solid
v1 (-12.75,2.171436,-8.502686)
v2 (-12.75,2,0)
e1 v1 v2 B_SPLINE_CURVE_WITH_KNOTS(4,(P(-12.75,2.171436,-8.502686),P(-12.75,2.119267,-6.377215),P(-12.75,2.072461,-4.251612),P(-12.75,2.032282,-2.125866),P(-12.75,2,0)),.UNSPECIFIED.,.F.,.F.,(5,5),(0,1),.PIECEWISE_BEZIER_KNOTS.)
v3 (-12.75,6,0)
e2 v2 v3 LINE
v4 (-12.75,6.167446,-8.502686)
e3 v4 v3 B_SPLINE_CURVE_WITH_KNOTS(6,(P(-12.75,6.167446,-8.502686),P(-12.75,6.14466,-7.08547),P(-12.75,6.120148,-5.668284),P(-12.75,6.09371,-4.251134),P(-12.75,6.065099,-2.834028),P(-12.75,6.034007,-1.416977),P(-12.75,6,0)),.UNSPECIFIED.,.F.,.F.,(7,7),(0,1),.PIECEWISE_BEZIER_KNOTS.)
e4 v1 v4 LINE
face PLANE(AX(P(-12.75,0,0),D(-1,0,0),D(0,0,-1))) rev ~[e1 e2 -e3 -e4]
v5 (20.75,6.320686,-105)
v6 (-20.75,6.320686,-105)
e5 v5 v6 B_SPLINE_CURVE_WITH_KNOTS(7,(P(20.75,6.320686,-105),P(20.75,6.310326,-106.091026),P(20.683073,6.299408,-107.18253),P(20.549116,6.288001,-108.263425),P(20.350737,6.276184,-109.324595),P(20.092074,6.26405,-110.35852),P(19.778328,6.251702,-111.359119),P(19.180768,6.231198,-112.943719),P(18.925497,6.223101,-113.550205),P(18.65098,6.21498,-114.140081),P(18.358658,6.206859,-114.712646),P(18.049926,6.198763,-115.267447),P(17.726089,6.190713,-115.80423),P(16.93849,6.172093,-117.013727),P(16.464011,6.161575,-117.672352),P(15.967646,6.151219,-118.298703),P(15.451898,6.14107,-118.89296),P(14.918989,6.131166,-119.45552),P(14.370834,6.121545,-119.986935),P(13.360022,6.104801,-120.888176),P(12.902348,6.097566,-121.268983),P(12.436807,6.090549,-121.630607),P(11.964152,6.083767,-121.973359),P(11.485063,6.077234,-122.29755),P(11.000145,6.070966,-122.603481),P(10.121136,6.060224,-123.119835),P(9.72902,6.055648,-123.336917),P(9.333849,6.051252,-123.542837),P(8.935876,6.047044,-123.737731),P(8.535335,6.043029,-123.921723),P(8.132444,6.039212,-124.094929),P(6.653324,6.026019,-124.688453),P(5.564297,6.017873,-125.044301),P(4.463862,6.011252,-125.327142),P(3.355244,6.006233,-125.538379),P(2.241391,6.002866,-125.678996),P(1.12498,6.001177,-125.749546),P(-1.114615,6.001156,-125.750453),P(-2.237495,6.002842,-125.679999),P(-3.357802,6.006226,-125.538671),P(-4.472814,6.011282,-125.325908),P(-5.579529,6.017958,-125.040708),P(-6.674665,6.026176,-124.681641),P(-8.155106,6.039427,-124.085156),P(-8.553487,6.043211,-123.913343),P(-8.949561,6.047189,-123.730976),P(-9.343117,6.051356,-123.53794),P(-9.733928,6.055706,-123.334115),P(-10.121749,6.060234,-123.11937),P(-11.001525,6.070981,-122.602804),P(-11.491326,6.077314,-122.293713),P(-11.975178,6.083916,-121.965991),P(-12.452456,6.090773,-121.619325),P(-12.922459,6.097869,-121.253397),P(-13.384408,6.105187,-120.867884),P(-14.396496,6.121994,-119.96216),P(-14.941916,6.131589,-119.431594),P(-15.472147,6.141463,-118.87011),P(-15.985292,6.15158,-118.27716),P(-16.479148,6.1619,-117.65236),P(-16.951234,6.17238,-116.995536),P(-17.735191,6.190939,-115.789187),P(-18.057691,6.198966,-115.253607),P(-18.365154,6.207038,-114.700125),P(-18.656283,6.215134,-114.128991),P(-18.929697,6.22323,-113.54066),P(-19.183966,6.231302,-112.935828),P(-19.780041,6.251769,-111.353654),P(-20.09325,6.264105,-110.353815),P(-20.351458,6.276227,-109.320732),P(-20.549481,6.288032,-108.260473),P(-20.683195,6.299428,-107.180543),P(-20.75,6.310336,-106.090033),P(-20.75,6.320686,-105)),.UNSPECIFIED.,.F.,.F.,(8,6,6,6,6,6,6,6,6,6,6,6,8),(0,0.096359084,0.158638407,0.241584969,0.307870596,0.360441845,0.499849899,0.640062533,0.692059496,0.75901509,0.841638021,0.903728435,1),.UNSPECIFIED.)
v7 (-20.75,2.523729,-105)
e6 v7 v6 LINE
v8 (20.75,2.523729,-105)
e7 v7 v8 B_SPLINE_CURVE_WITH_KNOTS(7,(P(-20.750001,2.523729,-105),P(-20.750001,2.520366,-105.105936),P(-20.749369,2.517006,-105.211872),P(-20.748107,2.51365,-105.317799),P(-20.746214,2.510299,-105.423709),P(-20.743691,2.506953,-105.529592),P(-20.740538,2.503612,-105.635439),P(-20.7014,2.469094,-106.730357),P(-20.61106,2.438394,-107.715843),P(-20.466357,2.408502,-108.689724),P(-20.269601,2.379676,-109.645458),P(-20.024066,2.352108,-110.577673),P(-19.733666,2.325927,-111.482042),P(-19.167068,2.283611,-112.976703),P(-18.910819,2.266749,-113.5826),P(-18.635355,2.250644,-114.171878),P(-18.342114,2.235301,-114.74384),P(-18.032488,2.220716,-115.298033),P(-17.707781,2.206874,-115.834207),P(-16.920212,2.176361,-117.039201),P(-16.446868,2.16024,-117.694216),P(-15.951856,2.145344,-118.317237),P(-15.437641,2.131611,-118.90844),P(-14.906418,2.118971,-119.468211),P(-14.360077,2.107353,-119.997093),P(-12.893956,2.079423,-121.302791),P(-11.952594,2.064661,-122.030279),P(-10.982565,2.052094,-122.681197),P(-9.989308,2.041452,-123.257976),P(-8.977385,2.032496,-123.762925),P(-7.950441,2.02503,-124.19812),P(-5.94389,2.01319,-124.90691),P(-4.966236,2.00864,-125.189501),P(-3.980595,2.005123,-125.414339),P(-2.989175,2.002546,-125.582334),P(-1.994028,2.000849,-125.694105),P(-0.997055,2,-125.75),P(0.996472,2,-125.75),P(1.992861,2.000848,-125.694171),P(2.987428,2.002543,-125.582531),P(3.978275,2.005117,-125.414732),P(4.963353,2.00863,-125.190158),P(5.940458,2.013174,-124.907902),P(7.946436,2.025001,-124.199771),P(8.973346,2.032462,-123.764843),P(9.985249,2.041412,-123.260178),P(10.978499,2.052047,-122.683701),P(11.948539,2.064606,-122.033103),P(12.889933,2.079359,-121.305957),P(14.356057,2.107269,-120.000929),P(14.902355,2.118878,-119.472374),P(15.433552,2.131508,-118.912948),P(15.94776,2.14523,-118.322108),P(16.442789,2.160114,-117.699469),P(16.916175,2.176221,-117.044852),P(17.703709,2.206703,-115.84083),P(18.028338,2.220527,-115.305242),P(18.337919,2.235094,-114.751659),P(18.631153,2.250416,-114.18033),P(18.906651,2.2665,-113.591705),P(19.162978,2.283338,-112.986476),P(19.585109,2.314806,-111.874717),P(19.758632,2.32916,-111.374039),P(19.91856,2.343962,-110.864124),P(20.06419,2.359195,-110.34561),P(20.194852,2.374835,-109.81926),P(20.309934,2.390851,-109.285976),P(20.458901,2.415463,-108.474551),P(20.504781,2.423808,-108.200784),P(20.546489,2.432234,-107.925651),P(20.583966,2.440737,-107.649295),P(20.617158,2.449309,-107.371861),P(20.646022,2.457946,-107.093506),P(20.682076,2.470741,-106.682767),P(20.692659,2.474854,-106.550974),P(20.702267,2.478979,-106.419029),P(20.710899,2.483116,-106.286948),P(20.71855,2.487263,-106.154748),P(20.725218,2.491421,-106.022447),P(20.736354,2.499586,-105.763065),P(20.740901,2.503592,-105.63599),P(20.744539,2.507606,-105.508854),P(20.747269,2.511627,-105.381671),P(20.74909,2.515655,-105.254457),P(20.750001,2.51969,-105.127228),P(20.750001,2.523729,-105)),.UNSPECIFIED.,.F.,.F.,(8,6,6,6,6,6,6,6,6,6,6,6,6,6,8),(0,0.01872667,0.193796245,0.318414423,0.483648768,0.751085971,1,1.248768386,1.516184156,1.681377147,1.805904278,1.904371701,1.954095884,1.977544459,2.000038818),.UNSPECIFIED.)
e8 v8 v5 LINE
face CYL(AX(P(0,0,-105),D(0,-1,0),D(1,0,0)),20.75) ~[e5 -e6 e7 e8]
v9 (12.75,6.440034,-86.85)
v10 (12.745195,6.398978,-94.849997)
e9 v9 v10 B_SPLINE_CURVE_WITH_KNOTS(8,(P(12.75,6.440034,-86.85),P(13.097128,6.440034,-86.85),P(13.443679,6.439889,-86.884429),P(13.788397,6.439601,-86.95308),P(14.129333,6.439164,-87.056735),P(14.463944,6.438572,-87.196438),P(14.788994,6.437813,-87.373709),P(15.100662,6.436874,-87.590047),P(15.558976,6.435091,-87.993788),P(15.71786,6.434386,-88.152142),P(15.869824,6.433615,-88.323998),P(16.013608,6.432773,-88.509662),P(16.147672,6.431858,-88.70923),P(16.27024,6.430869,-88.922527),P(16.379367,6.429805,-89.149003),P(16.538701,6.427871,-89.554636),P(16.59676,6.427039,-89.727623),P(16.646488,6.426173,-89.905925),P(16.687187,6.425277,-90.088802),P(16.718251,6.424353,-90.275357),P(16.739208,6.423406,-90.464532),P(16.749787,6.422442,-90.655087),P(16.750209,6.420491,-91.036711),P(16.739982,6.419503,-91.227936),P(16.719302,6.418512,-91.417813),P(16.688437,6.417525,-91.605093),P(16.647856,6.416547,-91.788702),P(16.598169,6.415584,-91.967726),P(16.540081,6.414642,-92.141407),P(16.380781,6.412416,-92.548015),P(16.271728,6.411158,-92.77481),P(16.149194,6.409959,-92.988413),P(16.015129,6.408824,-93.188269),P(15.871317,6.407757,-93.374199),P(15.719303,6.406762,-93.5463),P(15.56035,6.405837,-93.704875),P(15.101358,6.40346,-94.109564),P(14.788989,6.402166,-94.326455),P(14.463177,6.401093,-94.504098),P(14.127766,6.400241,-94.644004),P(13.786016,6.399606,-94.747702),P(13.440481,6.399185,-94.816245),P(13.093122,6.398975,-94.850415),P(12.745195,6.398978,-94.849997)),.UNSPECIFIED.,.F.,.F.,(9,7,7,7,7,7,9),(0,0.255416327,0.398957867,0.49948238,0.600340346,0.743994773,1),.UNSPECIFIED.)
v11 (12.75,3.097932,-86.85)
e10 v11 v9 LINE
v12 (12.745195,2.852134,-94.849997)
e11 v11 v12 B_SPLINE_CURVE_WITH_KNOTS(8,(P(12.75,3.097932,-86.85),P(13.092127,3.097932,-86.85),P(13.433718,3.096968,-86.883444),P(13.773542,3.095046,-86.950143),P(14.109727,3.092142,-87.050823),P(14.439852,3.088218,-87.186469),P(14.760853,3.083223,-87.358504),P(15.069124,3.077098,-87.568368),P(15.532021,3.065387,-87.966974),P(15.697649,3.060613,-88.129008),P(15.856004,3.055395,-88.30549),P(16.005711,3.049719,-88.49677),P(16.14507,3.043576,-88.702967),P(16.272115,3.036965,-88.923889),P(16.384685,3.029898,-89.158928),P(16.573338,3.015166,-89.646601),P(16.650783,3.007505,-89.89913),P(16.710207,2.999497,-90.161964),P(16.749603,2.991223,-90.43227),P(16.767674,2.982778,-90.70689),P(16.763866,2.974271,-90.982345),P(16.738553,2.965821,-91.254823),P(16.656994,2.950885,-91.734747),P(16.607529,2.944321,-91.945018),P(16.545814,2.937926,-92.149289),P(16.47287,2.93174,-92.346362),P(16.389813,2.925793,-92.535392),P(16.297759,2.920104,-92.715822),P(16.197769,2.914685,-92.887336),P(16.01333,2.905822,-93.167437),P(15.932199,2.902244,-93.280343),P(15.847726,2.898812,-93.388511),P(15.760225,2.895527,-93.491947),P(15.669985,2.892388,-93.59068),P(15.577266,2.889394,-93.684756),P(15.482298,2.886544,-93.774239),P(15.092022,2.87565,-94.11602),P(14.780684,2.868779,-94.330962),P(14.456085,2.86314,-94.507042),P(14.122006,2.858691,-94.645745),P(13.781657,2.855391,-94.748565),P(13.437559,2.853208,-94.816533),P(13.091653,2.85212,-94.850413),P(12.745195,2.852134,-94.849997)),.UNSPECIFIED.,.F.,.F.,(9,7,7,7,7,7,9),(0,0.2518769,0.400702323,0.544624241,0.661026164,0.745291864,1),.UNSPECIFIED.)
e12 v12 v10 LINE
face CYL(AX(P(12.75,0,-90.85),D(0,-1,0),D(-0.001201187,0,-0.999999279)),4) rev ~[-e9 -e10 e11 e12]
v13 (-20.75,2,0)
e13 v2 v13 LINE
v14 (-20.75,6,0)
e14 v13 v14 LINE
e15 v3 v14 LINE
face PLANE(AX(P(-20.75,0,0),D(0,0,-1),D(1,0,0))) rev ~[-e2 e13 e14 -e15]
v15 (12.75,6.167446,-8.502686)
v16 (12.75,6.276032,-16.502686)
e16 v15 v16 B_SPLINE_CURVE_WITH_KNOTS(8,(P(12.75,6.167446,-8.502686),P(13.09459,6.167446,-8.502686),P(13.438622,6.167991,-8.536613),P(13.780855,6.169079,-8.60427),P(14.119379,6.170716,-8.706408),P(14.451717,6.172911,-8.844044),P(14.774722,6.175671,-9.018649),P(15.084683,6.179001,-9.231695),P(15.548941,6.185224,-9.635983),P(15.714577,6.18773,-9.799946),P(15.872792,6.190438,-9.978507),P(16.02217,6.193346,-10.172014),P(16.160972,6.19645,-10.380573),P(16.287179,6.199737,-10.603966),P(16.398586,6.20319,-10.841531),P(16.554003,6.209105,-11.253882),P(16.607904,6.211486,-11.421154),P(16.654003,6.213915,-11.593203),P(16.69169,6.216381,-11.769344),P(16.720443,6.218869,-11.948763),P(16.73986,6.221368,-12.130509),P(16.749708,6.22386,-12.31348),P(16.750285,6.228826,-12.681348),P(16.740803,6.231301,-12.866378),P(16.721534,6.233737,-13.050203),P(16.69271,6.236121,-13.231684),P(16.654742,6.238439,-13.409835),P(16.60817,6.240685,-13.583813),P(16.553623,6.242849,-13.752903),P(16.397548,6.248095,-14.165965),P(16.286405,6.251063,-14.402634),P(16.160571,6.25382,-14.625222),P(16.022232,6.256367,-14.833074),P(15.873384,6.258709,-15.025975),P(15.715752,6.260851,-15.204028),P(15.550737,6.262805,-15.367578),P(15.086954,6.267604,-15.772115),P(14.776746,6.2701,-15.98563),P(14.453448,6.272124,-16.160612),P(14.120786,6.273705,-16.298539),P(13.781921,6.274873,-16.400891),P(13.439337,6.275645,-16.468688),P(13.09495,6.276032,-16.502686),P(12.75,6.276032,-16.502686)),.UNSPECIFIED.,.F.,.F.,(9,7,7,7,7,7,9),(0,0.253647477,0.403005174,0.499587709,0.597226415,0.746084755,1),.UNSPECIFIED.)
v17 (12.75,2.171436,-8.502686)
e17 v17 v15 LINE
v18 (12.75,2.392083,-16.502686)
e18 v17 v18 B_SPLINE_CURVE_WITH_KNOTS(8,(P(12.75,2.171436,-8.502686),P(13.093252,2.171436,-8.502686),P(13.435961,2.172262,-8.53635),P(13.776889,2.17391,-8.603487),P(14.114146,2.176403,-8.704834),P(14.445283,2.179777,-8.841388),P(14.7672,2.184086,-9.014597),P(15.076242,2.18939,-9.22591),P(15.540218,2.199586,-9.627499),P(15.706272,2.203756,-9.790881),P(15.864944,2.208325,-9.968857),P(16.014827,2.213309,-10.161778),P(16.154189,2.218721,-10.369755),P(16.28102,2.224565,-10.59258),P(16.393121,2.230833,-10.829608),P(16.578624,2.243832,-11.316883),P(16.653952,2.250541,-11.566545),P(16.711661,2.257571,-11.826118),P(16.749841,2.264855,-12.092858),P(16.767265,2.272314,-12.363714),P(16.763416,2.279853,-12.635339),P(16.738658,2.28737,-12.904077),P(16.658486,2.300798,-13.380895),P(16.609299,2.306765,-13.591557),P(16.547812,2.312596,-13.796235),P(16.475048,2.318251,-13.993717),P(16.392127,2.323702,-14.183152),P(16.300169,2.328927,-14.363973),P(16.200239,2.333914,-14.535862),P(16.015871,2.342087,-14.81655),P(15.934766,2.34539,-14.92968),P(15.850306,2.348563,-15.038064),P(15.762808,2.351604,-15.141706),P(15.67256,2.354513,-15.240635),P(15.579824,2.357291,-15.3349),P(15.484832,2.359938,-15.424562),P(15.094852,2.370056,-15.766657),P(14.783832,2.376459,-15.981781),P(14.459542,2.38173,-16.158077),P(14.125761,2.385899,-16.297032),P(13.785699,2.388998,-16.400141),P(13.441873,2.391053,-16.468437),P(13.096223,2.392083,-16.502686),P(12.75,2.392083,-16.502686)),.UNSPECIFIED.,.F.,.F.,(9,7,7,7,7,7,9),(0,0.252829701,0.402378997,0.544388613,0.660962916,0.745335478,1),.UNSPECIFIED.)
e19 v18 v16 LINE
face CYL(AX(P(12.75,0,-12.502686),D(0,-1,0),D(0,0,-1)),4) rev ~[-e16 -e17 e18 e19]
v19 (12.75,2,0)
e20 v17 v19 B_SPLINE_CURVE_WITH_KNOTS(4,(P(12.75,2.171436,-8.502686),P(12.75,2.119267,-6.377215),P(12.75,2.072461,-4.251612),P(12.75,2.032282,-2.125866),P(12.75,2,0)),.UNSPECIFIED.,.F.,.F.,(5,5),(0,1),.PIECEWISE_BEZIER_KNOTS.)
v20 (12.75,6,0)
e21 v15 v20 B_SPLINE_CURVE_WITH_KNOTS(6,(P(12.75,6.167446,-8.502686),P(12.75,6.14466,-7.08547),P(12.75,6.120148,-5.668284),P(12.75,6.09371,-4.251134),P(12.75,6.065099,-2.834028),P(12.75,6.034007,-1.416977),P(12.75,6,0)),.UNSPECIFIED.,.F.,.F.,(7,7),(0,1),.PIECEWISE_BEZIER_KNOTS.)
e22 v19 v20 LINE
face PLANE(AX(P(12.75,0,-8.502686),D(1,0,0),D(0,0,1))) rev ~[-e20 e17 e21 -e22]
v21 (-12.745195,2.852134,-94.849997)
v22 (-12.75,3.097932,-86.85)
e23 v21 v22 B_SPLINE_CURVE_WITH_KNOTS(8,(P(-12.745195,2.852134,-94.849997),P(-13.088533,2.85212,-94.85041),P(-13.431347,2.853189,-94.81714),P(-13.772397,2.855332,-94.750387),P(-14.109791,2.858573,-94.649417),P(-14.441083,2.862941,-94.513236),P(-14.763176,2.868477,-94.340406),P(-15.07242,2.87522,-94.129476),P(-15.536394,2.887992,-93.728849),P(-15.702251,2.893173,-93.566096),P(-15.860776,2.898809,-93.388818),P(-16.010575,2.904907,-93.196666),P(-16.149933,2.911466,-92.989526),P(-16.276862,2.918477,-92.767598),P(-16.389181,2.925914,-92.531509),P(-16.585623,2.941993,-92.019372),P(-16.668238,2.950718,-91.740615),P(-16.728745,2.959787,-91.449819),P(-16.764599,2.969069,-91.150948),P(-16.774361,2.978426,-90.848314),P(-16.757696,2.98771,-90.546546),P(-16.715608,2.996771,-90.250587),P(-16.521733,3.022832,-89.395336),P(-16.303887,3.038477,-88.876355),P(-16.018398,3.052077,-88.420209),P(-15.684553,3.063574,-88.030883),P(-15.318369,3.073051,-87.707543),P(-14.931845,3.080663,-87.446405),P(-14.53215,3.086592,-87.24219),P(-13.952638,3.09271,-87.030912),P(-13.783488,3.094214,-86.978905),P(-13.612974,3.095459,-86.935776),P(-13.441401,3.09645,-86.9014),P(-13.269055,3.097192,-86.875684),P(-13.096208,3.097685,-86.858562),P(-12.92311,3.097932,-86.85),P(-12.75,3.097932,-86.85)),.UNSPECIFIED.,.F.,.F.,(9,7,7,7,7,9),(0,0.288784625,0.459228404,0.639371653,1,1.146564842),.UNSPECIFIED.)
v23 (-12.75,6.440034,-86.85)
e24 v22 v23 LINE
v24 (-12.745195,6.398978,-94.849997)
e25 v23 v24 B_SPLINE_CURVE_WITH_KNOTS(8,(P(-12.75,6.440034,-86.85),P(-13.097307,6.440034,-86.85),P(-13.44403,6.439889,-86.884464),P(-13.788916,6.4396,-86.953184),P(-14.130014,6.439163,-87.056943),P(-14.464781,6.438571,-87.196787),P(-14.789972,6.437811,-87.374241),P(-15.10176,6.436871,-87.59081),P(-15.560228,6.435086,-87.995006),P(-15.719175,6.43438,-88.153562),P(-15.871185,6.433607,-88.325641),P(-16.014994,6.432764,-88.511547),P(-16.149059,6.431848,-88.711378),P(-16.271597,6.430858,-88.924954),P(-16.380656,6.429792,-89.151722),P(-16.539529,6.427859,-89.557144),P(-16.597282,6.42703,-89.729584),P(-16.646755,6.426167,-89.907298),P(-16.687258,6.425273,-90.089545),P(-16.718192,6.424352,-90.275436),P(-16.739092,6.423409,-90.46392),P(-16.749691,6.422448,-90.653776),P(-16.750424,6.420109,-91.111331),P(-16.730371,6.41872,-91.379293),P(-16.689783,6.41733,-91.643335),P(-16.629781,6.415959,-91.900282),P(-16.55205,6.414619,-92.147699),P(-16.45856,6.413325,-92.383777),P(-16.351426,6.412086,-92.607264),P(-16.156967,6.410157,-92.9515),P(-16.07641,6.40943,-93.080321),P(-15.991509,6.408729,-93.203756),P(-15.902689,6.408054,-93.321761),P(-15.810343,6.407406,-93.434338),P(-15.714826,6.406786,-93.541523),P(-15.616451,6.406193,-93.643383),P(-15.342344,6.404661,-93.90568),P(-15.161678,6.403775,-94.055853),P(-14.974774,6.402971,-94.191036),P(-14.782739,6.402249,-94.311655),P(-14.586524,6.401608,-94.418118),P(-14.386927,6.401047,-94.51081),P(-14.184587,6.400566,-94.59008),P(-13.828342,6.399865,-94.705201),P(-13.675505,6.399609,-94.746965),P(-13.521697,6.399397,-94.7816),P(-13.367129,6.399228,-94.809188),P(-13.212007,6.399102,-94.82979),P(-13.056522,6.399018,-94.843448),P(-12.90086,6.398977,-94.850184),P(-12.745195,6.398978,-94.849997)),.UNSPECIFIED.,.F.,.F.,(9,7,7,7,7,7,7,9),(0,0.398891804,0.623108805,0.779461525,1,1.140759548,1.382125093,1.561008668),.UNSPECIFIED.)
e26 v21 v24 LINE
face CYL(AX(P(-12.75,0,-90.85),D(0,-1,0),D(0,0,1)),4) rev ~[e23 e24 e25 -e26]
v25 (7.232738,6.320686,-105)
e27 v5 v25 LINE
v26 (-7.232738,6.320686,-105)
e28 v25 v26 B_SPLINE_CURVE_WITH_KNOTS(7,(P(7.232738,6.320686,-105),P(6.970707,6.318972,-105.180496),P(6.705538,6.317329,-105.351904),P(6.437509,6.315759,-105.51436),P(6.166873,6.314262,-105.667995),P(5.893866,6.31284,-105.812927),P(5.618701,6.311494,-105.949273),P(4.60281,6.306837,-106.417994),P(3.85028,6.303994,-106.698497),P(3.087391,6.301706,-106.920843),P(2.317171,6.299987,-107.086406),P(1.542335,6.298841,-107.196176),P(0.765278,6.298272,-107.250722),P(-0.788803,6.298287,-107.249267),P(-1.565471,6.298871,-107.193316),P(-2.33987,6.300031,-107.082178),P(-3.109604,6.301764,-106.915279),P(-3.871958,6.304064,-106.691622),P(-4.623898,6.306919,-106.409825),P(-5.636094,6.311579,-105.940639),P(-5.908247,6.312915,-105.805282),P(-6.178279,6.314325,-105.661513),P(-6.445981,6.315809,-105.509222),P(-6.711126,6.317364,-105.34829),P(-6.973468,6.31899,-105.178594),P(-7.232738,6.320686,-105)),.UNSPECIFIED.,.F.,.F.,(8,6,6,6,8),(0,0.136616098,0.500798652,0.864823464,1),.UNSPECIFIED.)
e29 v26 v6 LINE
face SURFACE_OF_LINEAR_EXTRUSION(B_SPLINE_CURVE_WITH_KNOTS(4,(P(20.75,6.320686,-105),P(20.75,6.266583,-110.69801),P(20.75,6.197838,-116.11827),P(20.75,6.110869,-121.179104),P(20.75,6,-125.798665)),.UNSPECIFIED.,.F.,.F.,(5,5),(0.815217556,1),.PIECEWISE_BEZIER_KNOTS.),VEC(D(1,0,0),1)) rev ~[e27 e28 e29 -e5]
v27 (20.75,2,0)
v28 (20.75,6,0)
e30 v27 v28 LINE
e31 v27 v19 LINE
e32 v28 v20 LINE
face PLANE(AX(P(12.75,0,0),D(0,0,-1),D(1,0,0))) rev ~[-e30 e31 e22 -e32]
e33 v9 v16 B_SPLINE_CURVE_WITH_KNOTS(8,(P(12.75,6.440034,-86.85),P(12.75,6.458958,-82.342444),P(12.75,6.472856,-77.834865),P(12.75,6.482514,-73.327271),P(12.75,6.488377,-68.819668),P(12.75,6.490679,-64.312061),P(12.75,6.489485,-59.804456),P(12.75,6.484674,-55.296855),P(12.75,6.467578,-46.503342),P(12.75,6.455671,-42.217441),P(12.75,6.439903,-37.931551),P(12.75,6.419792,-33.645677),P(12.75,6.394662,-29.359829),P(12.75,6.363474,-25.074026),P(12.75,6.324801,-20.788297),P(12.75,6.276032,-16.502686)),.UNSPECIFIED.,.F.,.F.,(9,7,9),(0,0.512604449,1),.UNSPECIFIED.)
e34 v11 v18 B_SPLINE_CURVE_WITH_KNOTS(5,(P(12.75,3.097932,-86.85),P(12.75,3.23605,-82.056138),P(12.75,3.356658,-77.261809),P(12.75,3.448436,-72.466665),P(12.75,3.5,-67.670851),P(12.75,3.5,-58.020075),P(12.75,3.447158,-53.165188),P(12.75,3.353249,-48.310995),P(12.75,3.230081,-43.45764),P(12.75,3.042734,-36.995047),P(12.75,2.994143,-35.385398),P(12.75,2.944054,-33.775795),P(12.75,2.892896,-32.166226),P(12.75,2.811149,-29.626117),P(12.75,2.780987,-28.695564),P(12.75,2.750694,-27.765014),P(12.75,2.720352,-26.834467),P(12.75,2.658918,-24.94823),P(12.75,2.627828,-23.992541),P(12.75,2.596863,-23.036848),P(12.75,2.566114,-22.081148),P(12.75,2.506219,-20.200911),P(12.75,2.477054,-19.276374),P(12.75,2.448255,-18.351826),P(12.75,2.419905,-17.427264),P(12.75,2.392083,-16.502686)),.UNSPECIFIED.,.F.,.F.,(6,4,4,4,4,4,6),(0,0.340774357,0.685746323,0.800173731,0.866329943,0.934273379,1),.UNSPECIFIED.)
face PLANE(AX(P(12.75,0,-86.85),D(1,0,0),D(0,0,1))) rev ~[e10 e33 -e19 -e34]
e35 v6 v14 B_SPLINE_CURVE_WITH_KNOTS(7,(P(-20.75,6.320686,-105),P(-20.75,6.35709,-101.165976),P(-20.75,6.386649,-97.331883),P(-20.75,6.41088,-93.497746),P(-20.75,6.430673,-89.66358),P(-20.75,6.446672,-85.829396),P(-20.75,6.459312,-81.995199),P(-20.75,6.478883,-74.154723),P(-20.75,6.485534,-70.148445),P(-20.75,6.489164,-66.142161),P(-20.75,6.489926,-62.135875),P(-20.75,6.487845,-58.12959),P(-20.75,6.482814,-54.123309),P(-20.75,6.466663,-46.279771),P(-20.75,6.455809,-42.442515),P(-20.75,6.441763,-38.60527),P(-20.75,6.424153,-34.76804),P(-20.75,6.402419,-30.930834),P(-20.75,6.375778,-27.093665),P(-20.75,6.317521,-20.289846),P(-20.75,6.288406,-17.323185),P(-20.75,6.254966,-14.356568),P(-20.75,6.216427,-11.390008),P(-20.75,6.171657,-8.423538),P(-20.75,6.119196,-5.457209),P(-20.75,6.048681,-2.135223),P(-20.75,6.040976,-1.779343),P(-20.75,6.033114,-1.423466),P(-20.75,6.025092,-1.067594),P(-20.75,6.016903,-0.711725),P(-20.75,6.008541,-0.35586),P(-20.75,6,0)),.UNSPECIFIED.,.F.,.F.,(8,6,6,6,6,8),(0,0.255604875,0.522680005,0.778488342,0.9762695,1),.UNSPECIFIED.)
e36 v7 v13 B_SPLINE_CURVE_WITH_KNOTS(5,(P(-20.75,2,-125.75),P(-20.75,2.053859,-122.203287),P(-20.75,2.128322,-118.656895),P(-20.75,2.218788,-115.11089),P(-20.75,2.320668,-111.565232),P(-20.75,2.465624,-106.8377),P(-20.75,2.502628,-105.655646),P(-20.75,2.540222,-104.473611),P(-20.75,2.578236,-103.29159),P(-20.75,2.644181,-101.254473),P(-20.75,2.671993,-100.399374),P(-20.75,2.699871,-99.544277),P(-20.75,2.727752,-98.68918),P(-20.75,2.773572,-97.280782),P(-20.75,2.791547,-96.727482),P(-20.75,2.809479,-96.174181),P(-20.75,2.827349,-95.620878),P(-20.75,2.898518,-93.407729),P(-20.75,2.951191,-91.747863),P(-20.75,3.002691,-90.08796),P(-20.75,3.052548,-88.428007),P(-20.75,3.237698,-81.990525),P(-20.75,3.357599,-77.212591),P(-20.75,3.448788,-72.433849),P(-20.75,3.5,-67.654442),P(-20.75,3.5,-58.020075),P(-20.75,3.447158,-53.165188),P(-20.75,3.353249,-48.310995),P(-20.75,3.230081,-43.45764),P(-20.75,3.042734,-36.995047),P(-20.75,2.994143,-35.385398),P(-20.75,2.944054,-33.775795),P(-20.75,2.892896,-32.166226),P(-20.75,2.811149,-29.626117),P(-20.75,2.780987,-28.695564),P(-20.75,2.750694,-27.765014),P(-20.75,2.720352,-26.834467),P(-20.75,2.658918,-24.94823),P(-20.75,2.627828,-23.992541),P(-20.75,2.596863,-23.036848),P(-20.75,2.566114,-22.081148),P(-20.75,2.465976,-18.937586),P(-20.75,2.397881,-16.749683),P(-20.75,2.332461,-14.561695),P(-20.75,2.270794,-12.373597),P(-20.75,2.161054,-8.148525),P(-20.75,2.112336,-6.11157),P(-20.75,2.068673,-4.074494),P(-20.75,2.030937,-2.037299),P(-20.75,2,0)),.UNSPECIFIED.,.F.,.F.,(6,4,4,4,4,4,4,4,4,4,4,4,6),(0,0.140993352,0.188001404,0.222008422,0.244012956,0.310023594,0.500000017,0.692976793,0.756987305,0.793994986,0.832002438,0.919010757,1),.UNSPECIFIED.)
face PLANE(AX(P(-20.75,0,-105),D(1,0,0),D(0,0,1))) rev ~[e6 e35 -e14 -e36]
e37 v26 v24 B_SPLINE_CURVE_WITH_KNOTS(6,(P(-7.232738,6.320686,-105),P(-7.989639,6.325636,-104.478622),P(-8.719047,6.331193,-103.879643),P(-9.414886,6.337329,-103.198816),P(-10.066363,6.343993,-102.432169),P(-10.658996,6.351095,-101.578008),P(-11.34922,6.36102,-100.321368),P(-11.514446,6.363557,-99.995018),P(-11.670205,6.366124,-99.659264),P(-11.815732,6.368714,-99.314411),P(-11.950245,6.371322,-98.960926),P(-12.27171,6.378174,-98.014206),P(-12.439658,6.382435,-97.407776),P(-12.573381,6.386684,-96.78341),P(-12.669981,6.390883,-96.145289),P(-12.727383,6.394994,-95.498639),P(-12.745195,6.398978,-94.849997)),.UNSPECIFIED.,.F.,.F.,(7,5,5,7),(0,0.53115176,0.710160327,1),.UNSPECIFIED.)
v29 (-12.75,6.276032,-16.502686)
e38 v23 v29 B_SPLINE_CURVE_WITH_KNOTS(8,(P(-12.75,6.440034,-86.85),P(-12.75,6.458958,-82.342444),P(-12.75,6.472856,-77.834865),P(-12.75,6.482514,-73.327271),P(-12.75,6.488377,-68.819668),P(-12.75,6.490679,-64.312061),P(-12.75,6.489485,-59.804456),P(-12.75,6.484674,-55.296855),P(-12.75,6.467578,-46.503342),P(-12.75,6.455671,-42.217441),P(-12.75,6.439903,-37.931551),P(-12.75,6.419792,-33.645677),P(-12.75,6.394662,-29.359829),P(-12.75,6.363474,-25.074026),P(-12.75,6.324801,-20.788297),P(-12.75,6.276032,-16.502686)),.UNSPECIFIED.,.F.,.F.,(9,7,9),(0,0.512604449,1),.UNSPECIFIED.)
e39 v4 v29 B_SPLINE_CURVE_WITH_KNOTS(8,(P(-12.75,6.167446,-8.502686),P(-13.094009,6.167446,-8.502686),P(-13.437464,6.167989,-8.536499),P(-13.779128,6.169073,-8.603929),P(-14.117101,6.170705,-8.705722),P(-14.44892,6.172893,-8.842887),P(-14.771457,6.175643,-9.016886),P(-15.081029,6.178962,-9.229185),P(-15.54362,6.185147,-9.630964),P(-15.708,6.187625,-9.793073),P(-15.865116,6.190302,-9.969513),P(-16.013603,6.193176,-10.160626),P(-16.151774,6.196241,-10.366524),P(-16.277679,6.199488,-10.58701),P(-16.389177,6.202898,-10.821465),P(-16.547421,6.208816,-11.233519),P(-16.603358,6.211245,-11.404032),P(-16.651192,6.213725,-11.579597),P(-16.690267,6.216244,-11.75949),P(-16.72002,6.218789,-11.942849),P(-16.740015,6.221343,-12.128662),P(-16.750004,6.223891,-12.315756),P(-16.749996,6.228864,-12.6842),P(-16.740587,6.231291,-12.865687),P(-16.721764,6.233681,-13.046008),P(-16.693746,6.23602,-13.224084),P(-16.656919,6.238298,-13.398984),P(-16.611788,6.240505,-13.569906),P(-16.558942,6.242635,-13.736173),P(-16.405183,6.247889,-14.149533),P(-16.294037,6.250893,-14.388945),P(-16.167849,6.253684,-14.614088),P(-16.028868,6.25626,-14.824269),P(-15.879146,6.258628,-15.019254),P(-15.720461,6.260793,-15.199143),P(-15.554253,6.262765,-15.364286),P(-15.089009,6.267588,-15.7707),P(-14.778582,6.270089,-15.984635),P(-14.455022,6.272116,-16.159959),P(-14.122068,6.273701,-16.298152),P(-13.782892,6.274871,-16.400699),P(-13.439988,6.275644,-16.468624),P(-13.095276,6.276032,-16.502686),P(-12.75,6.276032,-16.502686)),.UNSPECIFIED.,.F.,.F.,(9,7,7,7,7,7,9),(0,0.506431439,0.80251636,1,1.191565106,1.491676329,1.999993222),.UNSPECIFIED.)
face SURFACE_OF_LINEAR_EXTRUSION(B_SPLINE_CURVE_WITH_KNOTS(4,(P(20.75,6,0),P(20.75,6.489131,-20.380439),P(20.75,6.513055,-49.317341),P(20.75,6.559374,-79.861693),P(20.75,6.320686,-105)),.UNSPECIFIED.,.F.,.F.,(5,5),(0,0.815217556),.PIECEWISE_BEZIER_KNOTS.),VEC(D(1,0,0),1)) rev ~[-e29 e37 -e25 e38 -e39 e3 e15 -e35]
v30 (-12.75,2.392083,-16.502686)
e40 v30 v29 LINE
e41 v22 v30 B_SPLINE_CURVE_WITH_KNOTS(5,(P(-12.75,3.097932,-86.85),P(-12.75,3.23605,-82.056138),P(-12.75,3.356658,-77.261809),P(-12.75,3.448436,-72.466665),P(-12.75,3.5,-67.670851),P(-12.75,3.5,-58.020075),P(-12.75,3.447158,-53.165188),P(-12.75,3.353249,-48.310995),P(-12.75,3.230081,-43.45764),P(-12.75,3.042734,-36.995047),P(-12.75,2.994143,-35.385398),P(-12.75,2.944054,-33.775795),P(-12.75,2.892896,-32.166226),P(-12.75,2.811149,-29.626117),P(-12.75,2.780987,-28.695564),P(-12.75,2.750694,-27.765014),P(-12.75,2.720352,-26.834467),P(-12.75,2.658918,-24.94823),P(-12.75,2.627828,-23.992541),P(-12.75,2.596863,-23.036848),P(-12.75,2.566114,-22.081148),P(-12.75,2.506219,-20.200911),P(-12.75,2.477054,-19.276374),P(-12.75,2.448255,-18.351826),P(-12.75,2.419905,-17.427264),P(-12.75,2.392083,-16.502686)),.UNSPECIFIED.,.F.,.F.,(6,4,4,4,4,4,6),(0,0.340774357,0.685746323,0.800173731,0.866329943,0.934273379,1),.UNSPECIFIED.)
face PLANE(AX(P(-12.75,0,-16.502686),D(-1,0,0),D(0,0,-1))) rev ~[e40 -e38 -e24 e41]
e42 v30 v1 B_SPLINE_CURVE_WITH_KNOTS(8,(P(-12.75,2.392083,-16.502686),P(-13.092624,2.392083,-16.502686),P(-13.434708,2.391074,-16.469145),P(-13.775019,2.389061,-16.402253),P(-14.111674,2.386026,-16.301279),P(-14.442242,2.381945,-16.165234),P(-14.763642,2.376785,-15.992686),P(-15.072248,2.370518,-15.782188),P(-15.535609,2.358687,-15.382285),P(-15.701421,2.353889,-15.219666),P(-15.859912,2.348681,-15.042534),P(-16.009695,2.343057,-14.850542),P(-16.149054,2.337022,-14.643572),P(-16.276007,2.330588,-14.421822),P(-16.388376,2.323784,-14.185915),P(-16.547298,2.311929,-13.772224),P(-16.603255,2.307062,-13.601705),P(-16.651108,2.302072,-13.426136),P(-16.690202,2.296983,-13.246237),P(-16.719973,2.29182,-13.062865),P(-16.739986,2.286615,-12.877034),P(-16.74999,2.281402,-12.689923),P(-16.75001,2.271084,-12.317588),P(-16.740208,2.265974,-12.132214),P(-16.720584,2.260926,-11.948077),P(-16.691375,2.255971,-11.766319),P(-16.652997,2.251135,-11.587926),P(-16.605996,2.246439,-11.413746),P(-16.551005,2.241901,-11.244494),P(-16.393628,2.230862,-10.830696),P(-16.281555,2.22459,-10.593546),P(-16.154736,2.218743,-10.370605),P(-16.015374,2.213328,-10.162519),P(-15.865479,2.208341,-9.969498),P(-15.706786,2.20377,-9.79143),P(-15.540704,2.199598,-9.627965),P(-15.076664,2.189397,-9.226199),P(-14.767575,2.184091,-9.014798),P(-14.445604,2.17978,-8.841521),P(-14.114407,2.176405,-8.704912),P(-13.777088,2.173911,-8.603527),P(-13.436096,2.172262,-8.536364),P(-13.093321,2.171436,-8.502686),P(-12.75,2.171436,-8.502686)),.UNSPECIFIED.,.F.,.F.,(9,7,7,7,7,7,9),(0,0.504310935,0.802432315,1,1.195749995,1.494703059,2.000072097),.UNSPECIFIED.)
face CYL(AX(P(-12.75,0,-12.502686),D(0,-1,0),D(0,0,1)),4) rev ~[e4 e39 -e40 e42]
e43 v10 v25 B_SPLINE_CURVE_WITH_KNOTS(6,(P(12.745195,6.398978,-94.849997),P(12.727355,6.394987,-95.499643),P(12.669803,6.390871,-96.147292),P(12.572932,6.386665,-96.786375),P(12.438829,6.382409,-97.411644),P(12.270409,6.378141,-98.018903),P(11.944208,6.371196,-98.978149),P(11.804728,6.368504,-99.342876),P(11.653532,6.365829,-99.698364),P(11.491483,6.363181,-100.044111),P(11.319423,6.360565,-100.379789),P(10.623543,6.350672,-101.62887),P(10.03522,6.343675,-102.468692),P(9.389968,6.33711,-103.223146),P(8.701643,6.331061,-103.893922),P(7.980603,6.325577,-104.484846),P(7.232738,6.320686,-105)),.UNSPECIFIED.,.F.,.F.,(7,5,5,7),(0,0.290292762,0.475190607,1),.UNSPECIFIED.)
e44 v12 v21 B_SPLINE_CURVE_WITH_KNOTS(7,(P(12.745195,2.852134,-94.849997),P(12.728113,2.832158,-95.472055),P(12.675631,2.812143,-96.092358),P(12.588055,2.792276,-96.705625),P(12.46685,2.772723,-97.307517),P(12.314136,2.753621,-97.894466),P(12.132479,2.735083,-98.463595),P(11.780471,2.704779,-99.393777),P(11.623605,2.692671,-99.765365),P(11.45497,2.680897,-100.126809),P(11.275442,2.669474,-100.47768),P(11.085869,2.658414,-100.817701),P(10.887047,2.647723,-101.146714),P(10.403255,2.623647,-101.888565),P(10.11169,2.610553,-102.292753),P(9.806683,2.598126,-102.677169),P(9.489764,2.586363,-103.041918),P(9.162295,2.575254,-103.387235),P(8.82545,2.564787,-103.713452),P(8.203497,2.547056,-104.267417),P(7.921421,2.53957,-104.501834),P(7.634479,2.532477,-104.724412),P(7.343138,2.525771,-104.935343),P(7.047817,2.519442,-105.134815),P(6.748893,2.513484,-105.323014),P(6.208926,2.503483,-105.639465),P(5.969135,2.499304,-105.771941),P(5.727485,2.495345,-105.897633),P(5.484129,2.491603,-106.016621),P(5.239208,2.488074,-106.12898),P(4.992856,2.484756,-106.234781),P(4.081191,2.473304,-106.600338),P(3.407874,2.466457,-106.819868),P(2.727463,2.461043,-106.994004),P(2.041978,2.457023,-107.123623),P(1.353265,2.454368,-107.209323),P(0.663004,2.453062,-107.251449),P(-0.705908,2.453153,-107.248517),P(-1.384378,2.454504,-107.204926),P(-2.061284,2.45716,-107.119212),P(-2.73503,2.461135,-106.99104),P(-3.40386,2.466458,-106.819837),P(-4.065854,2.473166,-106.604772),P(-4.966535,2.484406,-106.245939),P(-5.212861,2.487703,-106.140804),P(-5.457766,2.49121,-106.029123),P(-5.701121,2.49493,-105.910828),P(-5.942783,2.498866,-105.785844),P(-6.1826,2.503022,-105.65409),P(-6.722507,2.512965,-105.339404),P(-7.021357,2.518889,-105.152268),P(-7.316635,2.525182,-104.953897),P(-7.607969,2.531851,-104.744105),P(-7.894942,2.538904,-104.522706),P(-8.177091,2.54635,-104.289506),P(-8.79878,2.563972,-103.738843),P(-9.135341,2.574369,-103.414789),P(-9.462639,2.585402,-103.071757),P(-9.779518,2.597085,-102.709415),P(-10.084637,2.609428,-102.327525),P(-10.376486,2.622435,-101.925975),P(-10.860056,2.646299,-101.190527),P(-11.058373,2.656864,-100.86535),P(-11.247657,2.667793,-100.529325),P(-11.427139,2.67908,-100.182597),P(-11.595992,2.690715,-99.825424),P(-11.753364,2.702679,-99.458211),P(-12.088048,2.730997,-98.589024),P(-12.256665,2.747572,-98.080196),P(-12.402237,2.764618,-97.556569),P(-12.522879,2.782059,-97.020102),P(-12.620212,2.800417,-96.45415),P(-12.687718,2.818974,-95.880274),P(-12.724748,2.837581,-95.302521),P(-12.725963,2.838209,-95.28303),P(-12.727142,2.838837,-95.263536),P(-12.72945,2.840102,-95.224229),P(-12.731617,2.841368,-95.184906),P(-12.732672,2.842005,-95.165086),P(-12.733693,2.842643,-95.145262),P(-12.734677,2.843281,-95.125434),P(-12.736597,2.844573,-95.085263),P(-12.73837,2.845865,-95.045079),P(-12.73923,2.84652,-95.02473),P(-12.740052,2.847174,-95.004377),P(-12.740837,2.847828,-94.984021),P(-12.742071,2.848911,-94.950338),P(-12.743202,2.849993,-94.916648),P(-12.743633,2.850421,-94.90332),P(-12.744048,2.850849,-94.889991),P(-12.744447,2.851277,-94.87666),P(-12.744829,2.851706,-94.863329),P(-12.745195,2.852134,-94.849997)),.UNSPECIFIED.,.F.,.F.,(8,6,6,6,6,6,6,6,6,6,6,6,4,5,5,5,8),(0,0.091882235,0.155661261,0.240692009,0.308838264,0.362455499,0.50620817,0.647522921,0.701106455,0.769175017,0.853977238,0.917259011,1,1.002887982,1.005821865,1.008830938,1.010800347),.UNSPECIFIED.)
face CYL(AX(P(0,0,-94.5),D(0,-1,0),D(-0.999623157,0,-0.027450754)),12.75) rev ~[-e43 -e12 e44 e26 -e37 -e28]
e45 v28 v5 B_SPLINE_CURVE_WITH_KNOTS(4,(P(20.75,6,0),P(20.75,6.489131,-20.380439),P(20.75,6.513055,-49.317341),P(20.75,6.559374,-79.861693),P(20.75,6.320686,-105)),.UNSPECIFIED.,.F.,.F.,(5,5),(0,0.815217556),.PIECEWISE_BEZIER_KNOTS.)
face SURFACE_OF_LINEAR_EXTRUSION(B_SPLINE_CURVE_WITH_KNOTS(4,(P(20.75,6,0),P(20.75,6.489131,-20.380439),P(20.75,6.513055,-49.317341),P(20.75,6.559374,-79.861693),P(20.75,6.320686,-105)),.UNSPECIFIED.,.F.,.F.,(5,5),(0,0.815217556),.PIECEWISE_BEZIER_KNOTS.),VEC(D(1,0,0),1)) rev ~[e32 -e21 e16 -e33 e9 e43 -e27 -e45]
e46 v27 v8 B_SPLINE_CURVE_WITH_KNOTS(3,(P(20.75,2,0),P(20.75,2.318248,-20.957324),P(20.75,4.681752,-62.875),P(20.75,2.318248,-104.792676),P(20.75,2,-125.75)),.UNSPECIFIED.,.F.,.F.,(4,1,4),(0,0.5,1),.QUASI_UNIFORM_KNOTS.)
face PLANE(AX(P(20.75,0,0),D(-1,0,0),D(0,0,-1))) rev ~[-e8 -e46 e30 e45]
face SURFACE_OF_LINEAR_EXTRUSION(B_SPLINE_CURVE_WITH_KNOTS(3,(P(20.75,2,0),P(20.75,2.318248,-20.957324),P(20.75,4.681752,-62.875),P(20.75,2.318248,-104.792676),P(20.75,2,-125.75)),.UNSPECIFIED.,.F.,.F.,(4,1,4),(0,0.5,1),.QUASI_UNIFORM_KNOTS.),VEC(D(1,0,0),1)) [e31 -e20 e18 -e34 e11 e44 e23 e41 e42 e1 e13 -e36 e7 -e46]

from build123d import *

# Parameters (mm, degrees)
BOSS_EXTRUDE2_DEPTH = 10
CUT_EXTRUDE1_REACH  = 134.798
CUT_EXTRUDE2_REACH  = 134.58


with BuildPart() as part:
    # Sketch1 → Boss-Extrude2 (new body)
    with BuildSketch(Plane(origin=(0, 0, 0), x_dir=(1, 0, 0), z_dir=(0, 1, 0))):
        with BuildLine():
            Line((-20.75, 0), (-12.75, 0))
            Line((-12.75, 0), (-12.75, 8.502685995))
            ThreePointArc((-12.75, 8.502685995), (-16.75, 12.502685995), (-12.75, 16.502685995))
            Line((-12.75, 16.502685995), (-12.75, 86.85))
            ThreePointArc((-12.75, 86.85), (-16.749999279, 90.852402374), (-12.745195252, 94.849997114))
            ThreePointArc((-12.745195252, 94.849997114), (0, 107.25), (12.745195252, 94.849997114))
            ThreePointArc((12.745195252, 94.849997114), (16.749999279, 90.852402374), (12.75, 86.85))
            Line((12.75, 86.85), (12.75, 16.502685995))
            ThreePointArc((12.75, 16.502685995), (16.75, 12.502685995), (12.75, 8.502685995))
            Line((12.75, 8.502685995), (12.75, 0))
            Line((12.75, 0), (20.75, 0))
            Line((20.75, 0), (20.75, 105))
            ThreePointArc((20.75, 105), (0, 125.75), (-20.75, 105))
            Line((-20.75, 105), (-20.75, 0))
        make_face()
    extrude(amount=BOSS_EXTRUDE2_DEPTH)

    # Cut-Extrude1: up to this face of the body (flat: up to its plane)
    cut_extrude1_end = Plane(part.part.faces().sort_by_distance((-20.75, 5, -52.5))[0])
    # Sketch2 → Cut-Extrude1 (cut, up to the picked face)
    with BuildSketch(Plane(origin=(20.75, 0, 0), x_dir=(0, 0, -1), z_dir=(1, 0, 0)), mode=Mode.PRIVATE) as cut_extrude1_sk1:
        with BuildLine():
            Line((0, 10), (0, 6))
            add(Edge.make_bspline(
                [(0, 6), (20.380438902, 6.489130534), (49.317340974, 6.513055303), (79.861692853, 6.559373615), (105, 6.320685747)],
                knots=[0, 0, 0, 0, 0, 0.815217556, 0.815217556, 0.815217556, 0.815217556, 0.815217556], degree=4))
            Line((105, 6.320685747), (105, 10))
            Line((105, 10), (0, 10))
        make_face()
    cut_extrude1_tool1 = split(extrude(cut_extrude1_sk1.sketch, amount=-CUT_EXTRUDE1_REACH, mode=Mode.PRIVATE), bisect_by=cut_extrude1_end, keep=Keep.BOTH, mode=Mode.PRIVATE)
    # Sketch2 → Cut-Extrude1 (cut, up to the picked face)
    with BuildSketch(Plane(origin=(20.75, 0, 0), x_dir=(0, 0, -1), z_dir=(1, 0, 0)), mode=Mode.PRIVATE) as cut_extrude1_sk2:
        with BuildLine():
            Line((105, 10), (105, 6.320685747))
            add(Edge.make_bspline(
                [(105, 6.320685747), (110.698010054, 6.266583223), (116.118270151, 6.197837747), (121.179103999, 6.110869466), (125.798665098, 6)],
                knots=[0.815217556, 0.815217556, 0.815217556, 0.815217556, 0.815217556, 1, 1, 1, 1, 1], degree=4))
            Line((125.798665098, 6), (125.75, 10))
            Line((125.75, 10), (105, 10))
        make_face()
    cut_extrude1_tool2 = split(extrude(cut_extrude1_sk2.sketch, amount=-CUT_EXTRUDE1_REACH, mode=Mode.PRIVATE), bisect_by=cut_extrude1_end, keep=Keep.BOTH, mode=Mode.PRIVATE)
    add(cut_extrude1_tool1.solids().sort_by(Axis((20.75, 8.191223, -51.89052), (-1, 0, 0)))[0], mode=Mode.SUBTRACT)
    add(cut_extrude1_tool2.solids().sort_by(Axis((20.75, 8.09056, -115.529992), (-1, 0, 0)))[0], mode=Mode.SUBTRACT)

    # Cut-Extrude2: up to this face of the body (flat: up to its plane)
    cut_extrude2_end = Plane(part.part.faces().sort_by_distance((-20.75, 3.194161628, -52.844890182))[0])
    # Sketch3 → Cut-Extrude2 (cut, up to the picked face)
    with BuildSketch(Plane(origin=(20.75, 0, 0), x_dir=(0, 0, -1), z_dir=(1, 0, 0)), mode=Mode.PRIVATE) as cut_extrude2_sk1:
        with BuildLine():
            Line((0, 0), (0, 2))
            add(Edge.make_bspline(
                [(0, 2), (20.957324469, 2.318248008), (62.875, 4.681751992), (104.792675531, 2.318248008), (125.75, 2)],
                knots=[0, 0, 0, 0, 0.5, 1, 1, 1, 1], degree=3))
            Line((125.75, 2), (125.75, 0))
            Line((125.75, 0), (0, 0))
        make_face()
    cut_extrude2_tool1 = split(extrude(cut_extrude2_sk1.sketch, amount=-CUT_EXTRUDE2_REACH, mode=Mode.PRIVATE), bisect_by=cut_extrude2_end, keep=Keep.BOTH, mode=Mode.PRIVATE)
    add(cut_extrude2_tool1.solids().sort_by(Axis((20.75, 1.458103, -62.875), (-1, 0, 0)))[0], mode=Mode.SUBTRACT)


solid = part.part
